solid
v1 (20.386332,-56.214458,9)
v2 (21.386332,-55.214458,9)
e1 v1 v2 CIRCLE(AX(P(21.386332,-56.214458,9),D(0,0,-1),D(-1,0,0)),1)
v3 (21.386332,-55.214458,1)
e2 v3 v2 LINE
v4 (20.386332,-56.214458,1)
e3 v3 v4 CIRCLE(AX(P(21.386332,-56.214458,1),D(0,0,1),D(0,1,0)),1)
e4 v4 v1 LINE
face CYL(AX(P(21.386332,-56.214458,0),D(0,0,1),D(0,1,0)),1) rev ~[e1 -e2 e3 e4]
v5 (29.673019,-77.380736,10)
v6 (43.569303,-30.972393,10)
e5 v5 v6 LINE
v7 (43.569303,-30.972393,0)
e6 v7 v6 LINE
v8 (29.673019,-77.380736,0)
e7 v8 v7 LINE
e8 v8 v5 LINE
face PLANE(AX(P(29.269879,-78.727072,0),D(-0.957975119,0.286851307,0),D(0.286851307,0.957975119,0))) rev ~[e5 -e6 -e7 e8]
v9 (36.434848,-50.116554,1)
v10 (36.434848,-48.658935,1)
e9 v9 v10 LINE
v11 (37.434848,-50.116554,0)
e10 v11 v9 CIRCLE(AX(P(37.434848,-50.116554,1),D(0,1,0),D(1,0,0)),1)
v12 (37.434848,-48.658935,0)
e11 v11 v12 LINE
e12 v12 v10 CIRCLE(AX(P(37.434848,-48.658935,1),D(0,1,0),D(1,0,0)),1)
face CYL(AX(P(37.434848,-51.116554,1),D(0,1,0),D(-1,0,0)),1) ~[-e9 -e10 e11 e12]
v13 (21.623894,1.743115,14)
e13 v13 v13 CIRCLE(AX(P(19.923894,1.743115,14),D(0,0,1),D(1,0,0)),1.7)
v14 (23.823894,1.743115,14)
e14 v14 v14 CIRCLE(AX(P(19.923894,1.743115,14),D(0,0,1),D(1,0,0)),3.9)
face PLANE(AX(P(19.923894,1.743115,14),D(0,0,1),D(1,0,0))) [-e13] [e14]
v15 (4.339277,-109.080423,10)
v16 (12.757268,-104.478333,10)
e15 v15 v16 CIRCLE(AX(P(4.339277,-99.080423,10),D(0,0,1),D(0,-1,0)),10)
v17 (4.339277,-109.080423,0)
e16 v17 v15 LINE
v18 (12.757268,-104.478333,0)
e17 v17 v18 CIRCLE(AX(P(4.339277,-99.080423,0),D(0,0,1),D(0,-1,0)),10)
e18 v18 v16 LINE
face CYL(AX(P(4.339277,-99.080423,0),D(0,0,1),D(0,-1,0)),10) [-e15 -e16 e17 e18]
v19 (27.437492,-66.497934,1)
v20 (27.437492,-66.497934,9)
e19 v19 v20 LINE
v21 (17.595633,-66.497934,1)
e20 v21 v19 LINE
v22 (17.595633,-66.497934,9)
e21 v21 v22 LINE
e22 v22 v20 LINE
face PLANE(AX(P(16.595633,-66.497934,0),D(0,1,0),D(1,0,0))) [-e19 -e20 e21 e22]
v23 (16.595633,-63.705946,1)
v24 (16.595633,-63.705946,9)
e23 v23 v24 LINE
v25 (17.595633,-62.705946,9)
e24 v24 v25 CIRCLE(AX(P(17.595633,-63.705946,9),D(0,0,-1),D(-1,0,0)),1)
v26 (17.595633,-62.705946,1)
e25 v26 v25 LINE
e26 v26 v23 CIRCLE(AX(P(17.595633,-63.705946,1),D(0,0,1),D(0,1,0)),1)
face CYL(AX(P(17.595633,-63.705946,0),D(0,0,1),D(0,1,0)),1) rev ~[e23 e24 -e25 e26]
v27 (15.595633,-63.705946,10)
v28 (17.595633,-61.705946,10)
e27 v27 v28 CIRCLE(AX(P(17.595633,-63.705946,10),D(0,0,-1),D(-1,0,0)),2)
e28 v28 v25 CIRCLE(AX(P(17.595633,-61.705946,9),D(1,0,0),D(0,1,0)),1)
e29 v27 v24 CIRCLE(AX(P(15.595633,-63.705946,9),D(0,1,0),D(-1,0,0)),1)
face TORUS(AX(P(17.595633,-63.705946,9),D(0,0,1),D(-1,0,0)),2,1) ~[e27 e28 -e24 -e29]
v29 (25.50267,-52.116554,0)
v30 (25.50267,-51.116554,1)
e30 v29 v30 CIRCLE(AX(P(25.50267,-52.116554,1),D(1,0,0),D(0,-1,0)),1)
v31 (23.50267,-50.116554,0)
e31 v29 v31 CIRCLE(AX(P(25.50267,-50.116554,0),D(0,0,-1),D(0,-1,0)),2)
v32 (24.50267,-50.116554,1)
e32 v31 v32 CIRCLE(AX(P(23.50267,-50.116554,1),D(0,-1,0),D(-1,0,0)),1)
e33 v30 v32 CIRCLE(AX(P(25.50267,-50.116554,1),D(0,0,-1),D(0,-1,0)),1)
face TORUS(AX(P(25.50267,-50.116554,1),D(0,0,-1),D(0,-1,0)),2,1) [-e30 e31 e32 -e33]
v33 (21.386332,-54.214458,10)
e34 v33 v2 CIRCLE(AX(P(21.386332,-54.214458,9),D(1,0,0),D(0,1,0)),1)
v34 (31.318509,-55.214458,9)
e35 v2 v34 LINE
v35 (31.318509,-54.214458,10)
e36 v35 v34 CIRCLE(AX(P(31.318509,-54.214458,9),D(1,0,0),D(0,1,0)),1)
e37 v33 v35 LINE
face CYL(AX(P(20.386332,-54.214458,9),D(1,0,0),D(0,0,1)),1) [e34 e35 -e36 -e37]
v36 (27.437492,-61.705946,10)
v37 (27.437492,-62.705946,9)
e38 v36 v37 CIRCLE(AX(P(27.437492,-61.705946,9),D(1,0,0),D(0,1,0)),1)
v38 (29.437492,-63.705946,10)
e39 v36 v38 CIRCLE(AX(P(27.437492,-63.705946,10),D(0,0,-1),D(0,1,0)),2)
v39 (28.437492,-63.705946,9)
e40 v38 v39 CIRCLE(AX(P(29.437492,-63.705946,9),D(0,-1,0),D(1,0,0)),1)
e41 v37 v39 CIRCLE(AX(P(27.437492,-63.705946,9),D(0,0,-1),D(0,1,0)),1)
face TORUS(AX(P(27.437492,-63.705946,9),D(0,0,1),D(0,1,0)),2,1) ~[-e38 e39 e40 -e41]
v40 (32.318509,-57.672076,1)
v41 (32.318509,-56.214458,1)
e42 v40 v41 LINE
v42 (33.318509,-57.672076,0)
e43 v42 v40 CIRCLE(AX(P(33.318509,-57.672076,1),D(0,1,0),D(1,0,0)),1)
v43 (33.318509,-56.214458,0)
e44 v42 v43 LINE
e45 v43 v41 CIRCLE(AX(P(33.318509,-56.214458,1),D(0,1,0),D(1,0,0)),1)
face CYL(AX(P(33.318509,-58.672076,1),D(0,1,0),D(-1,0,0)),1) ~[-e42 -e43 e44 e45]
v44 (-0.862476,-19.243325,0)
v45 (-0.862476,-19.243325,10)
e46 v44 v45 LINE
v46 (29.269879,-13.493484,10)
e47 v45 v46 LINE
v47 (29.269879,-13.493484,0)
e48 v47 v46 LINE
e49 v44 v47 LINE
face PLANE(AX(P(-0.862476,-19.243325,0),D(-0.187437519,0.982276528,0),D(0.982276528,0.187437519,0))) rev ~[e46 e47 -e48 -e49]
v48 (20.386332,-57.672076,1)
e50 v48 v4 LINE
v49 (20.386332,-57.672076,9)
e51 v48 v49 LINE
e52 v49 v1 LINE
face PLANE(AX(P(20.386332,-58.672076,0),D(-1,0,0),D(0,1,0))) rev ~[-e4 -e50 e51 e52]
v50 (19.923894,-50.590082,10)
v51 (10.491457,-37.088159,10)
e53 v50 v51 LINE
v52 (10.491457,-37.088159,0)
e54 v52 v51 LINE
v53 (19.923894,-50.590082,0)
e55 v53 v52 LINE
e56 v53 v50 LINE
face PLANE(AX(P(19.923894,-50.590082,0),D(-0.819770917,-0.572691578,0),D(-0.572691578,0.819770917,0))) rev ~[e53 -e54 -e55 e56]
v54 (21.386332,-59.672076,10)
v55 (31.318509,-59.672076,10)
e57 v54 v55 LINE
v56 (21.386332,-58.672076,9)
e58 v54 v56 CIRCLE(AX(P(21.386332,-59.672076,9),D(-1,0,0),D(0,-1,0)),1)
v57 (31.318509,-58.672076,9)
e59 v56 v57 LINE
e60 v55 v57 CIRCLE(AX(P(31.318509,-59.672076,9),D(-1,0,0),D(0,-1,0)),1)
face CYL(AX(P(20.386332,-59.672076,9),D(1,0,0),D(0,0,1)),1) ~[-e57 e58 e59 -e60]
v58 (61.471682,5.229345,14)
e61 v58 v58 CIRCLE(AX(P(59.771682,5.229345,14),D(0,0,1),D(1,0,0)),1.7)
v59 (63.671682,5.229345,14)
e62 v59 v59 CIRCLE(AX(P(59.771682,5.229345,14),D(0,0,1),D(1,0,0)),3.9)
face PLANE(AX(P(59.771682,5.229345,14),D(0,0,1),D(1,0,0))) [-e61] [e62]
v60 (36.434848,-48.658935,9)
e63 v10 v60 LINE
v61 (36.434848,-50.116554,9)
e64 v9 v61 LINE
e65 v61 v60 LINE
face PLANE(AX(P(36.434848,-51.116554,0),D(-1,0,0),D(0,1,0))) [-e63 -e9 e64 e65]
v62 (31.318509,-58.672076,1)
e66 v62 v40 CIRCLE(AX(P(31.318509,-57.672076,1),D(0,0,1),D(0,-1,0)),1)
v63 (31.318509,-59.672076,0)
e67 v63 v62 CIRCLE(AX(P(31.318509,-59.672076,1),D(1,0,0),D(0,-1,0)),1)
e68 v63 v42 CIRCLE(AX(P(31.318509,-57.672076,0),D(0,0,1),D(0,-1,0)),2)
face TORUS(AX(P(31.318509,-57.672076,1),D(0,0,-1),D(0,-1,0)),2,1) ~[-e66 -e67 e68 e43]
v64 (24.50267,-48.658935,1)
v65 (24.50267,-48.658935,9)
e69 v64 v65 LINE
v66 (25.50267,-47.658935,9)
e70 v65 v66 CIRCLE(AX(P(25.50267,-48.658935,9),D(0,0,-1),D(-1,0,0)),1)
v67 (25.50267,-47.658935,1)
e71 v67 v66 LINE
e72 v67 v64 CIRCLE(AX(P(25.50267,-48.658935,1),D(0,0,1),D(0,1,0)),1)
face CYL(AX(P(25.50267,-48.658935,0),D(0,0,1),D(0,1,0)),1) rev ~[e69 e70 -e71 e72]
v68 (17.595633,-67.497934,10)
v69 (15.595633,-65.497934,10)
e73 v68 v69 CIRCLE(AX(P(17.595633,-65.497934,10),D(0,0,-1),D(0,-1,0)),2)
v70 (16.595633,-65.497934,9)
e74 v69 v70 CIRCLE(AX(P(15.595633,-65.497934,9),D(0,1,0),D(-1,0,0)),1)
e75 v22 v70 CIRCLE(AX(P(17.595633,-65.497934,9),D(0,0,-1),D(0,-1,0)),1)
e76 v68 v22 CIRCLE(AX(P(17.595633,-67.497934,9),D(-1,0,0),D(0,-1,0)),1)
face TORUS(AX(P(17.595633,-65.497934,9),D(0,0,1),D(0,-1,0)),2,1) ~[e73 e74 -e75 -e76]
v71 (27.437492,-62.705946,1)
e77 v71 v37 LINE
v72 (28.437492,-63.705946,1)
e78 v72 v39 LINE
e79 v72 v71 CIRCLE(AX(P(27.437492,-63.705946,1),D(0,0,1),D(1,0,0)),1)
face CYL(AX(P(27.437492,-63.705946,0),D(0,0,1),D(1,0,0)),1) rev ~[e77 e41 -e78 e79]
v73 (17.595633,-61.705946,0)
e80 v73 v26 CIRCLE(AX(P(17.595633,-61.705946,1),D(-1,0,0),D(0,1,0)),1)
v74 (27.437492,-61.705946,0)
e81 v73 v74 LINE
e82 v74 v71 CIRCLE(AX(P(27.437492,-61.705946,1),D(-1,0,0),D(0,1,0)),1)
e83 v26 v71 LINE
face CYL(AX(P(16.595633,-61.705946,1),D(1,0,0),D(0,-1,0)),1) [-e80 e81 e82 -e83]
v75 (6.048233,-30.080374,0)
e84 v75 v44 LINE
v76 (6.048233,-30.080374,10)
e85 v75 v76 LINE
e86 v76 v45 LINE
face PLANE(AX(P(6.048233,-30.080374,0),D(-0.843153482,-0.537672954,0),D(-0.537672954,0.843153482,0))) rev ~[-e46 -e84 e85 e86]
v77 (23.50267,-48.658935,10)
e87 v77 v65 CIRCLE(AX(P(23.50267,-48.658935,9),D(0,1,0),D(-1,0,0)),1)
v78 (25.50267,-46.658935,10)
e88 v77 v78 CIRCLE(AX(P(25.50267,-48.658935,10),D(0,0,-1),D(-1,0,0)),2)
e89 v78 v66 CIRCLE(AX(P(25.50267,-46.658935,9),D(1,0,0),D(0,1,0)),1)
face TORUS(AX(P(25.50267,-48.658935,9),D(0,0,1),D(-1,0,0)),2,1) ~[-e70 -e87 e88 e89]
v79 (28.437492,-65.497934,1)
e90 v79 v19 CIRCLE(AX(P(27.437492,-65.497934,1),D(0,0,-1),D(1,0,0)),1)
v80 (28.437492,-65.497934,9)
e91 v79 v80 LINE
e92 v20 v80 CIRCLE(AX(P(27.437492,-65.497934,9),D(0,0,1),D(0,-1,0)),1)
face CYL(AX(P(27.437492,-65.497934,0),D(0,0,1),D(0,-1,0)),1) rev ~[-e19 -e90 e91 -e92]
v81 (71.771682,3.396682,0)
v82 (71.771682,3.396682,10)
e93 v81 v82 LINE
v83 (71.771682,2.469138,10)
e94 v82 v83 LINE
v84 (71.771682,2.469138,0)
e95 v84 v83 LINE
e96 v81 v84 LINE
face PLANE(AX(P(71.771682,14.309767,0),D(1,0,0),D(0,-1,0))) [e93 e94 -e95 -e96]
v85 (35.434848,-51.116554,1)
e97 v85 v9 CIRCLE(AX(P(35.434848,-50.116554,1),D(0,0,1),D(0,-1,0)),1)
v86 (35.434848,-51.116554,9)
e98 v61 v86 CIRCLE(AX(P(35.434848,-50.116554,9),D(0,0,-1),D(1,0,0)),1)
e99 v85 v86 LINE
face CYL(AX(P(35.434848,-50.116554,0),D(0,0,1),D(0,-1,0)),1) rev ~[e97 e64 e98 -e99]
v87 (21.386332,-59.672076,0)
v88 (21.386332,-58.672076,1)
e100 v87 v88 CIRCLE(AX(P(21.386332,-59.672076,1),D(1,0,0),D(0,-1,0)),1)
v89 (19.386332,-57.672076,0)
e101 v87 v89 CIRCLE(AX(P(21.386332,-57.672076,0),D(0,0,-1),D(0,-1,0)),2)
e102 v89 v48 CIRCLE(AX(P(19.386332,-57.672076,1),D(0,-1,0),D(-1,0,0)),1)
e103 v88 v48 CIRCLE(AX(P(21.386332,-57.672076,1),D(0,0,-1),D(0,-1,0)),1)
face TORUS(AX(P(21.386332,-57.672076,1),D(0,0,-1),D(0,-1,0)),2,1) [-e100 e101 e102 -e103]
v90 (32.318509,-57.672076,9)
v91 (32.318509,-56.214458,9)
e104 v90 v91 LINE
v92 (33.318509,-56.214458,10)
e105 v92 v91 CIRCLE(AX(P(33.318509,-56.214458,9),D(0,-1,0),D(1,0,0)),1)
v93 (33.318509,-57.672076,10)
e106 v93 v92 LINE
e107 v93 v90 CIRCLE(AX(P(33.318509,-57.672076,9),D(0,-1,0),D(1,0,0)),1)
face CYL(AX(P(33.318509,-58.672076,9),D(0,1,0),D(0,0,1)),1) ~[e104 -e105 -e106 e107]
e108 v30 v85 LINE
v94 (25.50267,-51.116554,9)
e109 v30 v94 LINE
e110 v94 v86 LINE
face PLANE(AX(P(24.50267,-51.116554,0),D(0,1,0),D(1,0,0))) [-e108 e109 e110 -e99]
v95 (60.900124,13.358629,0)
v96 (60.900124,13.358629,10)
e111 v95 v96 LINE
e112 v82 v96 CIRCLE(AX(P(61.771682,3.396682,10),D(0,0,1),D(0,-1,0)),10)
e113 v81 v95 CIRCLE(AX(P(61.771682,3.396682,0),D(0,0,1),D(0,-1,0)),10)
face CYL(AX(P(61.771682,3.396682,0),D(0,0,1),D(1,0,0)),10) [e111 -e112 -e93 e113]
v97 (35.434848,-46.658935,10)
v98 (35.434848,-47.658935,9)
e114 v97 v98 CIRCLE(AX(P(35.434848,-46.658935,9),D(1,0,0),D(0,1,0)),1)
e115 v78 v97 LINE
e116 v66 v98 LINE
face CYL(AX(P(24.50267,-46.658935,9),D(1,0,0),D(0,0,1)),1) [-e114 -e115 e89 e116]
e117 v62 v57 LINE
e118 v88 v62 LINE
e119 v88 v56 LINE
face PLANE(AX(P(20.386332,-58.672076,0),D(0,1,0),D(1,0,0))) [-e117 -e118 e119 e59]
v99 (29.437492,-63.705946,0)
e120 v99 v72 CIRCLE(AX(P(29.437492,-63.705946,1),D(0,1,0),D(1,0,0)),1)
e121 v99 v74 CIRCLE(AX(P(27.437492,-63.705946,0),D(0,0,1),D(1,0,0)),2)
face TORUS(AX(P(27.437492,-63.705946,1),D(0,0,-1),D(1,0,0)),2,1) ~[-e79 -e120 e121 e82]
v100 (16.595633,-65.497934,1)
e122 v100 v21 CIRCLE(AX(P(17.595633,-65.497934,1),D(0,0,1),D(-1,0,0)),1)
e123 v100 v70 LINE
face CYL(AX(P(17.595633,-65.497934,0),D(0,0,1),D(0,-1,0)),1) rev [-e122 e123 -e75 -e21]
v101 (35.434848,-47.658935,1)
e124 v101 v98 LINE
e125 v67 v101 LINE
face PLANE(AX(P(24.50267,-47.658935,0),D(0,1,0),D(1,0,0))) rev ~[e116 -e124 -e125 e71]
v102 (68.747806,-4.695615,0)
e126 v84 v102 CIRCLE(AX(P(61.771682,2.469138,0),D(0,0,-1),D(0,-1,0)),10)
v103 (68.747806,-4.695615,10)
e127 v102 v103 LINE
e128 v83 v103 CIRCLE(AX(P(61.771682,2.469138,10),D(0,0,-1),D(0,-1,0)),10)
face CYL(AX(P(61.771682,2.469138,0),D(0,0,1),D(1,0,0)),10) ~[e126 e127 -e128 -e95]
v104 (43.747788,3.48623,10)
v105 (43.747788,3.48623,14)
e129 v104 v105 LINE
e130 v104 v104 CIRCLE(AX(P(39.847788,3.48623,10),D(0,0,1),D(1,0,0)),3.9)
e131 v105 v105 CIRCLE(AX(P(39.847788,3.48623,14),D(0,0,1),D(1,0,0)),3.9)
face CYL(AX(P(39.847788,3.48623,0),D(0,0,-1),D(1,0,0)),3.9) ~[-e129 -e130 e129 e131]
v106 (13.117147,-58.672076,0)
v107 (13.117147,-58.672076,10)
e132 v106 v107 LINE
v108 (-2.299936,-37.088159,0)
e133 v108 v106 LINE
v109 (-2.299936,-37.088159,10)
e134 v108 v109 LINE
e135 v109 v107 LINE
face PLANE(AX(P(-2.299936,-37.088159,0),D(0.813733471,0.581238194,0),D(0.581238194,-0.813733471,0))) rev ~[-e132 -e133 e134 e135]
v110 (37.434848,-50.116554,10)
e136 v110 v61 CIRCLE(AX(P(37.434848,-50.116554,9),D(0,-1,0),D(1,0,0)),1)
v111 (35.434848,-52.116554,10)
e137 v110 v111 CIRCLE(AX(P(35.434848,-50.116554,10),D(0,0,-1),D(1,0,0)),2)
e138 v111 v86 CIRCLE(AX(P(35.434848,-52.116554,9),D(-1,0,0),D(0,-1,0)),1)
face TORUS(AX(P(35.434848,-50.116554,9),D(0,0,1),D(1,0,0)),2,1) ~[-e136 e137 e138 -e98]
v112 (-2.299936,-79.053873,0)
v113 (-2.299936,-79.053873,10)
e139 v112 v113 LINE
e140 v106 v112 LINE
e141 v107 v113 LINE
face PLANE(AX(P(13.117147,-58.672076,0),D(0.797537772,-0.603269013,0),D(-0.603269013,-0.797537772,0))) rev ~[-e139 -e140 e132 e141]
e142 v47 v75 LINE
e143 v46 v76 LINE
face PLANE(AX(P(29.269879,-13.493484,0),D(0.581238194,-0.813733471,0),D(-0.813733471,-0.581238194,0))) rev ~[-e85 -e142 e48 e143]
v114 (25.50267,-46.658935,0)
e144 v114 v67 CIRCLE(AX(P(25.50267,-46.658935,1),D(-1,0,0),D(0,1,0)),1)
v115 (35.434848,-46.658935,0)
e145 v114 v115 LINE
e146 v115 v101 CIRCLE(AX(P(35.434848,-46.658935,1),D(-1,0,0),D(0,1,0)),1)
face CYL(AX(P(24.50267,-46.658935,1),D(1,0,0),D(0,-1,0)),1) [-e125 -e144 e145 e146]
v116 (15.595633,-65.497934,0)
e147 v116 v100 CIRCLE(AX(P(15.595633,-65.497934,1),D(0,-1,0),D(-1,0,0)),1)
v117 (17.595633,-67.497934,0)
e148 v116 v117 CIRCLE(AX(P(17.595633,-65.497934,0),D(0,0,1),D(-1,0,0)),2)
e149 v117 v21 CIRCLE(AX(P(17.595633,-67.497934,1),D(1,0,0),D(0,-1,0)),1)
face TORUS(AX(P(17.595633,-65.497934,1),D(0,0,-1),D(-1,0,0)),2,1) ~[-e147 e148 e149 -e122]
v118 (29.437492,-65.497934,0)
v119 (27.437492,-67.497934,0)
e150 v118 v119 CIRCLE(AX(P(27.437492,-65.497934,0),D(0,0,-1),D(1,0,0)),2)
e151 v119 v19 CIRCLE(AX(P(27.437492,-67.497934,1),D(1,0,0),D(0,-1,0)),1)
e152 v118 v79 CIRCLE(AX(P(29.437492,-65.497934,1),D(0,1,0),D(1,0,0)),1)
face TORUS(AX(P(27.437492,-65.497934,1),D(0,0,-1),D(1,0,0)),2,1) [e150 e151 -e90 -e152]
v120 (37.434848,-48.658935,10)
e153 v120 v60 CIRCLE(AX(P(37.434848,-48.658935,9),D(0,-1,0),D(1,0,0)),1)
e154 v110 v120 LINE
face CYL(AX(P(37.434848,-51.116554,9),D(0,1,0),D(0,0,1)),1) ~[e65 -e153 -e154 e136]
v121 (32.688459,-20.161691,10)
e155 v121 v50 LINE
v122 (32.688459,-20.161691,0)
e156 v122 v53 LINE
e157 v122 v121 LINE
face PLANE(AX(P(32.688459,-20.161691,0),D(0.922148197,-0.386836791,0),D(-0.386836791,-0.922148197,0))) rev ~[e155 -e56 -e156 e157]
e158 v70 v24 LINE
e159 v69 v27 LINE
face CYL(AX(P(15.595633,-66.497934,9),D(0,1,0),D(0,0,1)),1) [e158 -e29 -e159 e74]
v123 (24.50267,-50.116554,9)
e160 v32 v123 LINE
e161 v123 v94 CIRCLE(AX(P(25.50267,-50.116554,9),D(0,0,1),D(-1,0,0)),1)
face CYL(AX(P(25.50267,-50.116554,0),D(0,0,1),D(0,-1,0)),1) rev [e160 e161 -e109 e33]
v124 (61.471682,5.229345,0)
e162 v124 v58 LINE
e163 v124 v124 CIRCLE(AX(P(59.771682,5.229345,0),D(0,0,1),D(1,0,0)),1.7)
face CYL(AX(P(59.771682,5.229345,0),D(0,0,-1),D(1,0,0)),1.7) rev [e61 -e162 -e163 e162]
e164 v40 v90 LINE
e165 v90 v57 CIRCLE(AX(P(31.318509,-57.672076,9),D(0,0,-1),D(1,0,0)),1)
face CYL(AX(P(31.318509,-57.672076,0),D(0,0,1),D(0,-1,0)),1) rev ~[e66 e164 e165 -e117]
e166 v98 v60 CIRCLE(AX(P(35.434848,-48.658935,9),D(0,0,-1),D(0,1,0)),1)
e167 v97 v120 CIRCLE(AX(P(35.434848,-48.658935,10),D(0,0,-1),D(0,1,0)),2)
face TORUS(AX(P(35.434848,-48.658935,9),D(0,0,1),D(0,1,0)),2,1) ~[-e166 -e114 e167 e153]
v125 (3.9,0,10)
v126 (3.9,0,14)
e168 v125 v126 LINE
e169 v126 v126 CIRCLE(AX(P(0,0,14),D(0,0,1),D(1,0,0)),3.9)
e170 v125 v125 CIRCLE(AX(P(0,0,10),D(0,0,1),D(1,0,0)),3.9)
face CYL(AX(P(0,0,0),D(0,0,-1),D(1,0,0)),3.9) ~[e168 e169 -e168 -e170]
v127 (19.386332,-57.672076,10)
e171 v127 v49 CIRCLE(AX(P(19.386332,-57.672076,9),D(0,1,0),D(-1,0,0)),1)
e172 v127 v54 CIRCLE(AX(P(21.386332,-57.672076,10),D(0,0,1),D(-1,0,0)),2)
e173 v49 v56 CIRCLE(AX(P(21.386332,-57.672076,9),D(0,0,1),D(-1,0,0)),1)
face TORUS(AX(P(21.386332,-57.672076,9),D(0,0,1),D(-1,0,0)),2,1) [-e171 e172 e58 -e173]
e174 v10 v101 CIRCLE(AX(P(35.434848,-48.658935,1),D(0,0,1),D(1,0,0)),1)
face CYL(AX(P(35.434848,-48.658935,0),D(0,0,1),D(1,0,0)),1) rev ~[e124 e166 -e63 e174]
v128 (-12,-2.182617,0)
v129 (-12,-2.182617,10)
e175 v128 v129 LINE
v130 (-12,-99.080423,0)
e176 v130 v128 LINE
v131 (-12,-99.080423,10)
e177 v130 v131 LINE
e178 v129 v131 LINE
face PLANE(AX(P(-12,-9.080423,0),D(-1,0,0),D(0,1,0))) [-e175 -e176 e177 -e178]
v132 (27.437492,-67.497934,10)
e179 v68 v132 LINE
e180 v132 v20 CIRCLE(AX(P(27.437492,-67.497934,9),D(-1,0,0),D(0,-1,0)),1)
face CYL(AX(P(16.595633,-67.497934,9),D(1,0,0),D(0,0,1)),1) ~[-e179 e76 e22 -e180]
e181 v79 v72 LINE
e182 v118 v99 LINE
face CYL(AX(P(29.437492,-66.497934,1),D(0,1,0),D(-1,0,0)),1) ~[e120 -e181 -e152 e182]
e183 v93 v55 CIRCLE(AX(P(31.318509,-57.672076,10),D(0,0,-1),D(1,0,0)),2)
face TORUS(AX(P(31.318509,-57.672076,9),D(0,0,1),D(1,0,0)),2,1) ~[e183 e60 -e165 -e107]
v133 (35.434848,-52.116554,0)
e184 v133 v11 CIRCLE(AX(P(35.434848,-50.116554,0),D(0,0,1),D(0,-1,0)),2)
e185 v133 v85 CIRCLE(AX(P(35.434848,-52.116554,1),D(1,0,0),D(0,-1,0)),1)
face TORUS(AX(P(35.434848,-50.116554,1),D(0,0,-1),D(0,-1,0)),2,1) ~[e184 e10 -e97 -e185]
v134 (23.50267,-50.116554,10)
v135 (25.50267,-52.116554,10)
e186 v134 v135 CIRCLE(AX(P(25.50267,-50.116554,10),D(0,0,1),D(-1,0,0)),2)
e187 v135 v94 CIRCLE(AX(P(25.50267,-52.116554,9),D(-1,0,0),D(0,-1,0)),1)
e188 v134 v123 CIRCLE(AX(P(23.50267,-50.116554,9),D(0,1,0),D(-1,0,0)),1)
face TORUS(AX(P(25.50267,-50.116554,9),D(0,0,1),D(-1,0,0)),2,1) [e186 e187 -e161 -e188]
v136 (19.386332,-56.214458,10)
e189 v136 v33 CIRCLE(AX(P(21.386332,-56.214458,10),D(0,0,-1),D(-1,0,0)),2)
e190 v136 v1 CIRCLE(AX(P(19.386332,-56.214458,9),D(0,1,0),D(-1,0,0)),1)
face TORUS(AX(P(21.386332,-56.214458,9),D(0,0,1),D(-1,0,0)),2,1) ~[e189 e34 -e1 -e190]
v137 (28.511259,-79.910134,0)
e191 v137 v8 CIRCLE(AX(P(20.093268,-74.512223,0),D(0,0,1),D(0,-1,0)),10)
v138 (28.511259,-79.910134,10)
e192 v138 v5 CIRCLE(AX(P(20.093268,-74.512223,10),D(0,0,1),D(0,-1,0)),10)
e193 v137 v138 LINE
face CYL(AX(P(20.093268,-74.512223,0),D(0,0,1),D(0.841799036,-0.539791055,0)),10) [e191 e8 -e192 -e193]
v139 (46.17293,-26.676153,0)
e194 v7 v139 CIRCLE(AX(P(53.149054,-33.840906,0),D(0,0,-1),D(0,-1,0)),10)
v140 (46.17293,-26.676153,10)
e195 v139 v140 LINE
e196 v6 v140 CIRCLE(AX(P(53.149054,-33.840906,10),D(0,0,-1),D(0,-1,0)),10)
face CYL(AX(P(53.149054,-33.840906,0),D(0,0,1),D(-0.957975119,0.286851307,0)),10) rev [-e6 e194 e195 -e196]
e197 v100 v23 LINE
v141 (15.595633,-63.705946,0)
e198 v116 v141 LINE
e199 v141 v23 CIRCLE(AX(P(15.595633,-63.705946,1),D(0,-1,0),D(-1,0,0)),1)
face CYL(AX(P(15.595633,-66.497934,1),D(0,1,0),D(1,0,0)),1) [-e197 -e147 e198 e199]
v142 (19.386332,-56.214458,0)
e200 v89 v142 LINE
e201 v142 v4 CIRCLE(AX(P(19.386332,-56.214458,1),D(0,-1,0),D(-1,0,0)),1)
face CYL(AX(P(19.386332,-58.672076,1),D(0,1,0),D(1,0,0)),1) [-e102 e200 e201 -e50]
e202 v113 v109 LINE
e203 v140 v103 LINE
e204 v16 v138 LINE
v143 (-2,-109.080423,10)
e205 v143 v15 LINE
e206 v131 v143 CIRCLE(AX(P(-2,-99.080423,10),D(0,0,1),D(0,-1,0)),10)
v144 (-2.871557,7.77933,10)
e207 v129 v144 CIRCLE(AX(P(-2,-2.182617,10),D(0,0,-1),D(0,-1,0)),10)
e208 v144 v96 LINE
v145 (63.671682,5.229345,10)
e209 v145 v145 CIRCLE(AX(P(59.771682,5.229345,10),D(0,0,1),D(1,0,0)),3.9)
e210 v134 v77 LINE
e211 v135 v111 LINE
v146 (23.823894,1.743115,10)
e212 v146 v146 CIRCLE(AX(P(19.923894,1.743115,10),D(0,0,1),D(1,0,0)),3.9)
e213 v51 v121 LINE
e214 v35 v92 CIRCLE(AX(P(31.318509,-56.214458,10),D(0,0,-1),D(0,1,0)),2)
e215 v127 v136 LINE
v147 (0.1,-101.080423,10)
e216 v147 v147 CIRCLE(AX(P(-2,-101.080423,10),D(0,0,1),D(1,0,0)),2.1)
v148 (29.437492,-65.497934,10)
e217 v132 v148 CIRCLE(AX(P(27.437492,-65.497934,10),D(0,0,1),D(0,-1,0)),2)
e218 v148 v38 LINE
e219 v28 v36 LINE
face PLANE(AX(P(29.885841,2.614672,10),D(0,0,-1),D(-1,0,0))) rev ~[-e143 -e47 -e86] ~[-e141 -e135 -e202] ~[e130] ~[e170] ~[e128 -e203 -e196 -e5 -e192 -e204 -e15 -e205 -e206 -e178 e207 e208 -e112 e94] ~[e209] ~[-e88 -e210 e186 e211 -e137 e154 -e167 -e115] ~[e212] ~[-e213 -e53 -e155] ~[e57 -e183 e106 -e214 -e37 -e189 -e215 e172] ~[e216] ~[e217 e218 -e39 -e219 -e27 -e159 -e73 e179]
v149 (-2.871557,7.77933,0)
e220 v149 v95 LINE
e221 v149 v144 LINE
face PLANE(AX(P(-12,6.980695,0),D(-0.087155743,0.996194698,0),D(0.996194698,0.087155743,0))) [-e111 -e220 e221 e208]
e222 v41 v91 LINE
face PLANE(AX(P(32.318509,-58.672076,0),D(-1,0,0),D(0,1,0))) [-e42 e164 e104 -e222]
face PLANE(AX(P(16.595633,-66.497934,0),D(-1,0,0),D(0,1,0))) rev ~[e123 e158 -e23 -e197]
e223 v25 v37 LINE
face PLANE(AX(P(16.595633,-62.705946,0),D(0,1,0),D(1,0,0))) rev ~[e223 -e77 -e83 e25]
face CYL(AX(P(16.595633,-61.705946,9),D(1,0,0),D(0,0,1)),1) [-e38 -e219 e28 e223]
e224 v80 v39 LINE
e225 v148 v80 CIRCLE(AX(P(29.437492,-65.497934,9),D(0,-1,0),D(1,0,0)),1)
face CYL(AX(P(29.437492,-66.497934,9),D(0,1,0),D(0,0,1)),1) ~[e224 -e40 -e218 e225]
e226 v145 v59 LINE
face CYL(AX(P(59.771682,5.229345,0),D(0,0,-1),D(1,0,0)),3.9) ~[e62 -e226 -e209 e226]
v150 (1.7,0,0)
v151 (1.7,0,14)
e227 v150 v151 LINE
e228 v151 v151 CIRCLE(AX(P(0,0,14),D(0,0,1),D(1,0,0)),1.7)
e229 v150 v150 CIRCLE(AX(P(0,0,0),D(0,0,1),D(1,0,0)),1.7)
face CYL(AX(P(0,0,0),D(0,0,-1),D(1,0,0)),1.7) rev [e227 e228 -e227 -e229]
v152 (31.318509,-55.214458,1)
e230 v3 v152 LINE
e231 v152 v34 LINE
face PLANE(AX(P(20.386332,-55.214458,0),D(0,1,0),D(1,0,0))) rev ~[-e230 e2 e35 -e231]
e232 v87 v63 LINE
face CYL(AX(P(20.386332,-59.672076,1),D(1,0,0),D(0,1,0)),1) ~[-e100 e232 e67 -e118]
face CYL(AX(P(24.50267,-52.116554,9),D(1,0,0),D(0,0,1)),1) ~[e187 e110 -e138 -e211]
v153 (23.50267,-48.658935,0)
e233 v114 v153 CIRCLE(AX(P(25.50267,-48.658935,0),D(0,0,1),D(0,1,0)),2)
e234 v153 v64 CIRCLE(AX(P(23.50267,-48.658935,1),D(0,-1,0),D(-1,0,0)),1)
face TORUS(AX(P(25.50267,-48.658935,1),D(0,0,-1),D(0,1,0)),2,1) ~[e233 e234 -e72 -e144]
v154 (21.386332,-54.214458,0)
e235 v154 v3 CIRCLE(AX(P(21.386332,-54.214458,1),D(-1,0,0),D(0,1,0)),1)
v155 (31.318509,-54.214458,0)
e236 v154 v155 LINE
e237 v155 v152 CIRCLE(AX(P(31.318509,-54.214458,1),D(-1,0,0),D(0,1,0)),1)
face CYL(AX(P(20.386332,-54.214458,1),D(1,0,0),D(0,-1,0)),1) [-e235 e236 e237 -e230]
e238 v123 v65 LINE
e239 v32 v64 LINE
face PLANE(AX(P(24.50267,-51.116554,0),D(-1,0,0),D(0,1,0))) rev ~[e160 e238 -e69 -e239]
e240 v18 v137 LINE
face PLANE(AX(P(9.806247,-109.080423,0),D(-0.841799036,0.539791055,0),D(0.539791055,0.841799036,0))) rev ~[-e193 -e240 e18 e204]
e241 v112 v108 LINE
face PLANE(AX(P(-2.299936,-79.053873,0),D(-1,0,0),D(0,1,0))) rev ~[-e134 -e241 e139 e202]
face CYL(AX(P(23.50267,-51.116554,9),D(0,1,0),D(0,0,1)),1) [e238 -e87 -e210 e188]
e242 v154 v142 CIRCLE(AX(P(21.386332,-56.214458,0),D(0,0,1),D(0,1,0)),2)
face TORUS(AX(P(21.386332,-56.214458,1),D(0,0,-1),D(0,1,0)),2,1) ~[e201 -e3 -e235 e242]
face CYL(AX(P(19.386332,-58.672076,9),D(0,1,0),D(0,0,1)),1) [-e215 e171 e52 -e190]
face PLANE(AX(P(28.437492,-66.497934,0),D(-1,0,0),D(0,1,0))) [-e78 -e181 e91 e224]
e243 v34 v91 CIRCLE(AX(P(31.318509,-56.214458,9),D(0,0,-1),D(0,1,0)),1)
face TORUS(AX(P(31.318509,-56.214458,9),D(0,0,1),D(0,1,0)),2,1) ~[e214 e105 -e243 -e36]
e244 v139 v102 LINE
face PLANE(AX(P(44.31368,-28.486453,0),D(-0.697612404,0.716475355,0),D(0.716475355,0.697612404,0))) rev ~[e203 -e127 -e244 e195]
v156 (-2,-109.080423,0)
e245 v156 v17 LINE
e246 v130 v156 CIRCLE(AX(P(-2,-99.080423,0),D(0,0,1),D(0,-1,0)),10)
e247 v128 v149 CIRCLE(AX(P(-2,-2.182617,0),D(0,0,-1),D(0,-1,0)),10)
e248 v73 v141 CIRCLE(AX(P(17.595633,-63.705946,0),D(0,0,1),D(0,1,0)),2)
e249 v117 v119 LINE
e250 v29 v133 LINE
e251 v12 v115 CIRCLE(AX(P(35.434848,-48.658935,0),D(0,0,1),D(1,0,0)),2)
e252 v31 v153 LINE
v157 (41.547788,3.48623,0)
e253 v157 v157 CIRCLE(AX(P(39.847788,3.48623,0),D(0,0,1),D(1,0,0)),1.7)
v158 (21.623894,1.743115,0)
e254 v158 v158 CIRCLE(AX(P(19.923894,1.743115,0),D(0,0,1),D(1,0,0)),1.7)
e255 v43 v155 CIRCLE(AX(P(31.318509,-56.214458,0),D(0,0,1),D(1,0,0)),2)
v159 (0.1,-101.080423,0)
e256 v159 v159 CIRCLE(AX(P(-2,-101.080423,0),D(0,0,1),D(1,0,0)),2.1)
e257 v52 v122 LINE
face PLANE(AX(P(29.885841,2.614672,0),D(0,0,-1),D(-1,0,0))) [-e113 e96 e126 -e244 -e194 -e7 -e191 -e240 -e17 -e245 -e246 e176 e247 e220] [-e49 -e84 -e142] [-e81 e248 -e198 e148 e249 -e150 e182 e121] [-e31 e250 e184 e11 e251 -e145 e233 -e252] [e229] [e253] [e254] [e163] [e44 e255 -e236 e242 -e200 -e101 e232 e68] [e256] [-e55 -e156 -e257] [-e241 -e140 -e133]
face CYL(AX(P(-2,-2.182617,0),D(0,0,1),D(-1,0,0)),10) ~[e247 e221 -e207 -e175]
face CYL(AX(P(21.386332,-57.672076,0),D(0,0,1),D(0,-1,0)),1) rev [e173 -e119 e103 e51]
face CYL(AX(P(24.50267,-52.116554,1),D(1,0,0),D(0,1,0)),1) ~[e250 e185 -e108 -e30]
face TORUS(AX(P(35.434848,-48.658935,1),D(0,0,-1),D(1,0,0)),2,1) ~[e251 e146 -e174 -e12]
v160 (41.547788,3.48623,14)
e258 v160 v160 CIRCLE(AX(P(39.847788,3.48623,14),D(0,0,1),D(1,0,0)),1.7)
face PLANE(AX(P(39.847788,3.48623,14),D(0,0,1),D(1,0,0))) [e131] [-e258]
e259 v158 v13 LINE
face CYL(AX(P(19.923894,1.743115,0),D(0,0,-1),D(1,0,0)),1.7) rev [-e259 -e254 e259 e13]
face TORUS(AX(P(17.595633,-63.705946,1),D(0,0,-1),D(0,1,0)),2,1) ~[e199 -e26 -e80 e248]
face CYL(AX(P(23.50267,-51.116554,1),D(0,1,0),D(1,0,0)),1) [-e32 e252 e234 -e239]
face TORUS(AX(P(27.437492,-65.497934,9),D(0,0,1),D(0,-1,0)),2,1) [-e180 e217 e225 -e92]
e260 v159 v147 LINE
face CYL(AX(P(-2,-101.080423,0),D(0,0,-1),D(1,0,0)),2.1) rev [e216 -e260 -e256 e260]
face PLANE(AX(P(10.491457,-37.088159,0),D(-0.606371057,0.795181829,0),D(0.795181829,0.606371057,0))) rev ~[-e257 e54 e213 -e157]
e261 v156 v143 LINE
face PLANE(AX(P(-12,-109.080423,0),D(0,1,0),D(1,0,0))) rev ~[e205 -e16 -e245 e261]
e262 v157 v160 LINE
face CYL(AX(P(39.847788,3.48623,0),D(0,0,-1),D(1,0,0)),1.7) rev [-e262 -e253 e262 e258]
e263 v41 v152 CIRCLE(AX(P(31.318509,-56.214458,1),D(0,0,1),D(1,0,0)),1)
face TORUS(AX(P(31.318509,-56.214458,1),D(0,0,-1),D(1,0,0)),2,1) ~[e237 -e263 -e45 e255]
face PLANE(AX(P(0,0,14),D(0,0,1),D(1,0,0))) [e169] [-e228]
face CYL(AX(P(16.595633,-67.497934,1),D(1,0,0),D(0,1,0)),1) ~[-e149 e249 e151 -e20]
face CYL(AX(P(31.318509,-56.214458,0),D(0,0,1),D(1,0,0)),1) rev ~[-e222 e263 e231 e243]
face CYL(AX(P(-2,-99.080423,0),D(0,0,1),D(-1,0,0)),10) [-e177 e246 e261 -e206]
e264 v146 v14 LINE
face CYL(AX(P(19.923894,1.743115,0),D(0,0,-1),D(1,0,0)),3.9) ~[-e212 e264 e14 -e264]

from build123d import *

# Parameters (mm, degrees)
SKETCH_1_R      = 2.1
SKETCH_1_W      = 11.841859062
SKETCH_1_H      = 3.79198791
SKETCH_1_W_2    = 11.932177887
SKETCH_1_H_2    = 3.457618633
SKETCH_1_W_3    = 11.932177888
SKETCH_1_R_2    = 3.9
EXTRUDE_1_DEPTH = 10
FILLET_1_R      = 10
SKETCH_2_R      = 3.9
SKETCH_2_R_2    = 1.7
EXTRUDE_2_DEPTH = 14
FILLET_2_R      = 1


with BuildPart() as part:
    # 草圖1 → 填料-伸長1 (new body)
    # profile 1 of 2: a face of its own
    with BuildSketch(Plane.XY):
        Polygon((71.771681886, -1.751350173), (-12, -9.080422663), (-12, -109.080422663), (9.806246547, -109.080422663), (29.269879348, -78.727071705), (44.31368037, -28.486453197), align=None)
        with Locations((-2, -101.080422663)):
            Circle(SKETCH_1_R, mode=Mode.SUBTRACT)
        Polygon((-2.299936438, -79.053873156), (-2.299936438, -37.088159429), (13.117147072, -58.672076343), align=None, mode=Mode.SUBTRACT)
        with Locations((22.516562227, -64.601939977)):
            Rectangle(SKETCH_1_W, SKETCH_1_H, mode=Mode.SUBTRACT)
        with Locations((26.352420456, -56.943267027)):
            Rectangle(SKETCH_1_W_2, SKETCH_1_H_2, mode=Mode.SUBTRACT)
        with Locations((30.468759199, -49.38774458)):
            Rectangle(SKETCH_1_W_3, SKETCH_1_H_2, mode=Mode.SUBTRACT)
        Polygon((19.923893962, -50.59008221), (10.491457035, -37.088159429), (32.688459439, -20.161691414), align=None, mode=Mode.SUBTRACT)
        Polygon((6.048232781, -30.080374262), (-0.862476164, -19.243324952), (29.269879348, -13.493483856), align=None, mode=Mode.SUBTRACT)
    # profile 2 of 2: a face of its own
    with BuildSketch(Plane.XY):
        Polygon((71.771681886, 14.309767228), (71.771681886, -1.751350173), (-12, -9.080422663), (-12, 6.980694738), align=None)
        with Locations((59.771681886, 5.229344565)):
            Circle(SKETCH_1_R_2, mode=Mode.SUBTRACT)
        with Locations((39.847787924, 3.48622971)):
            Circle(SKETCH_1_R_2, mode=Mode.SUBTRACT)
        with Locations((19.923893962, 1.743114855)):
            Circle(SKETCH_1_R_2, mode=Mode.SUBTRACT)
        Circle(SKETCH_1_R_2, mode=Mode.SUBTRACT)
    extrude(amount=EXTRUDE_1_DEPTH)

    # 圓角1
    fillet_1_edges = [part.edges().sort_by_distance(p)[0] for p in [
        (29.269879348, -78.727071705, 5),
        (9.806246547, -109.080422663, 5),
        (-12, -109.080422663, 5),
        (-12, 6.980694738, 5),
        (71.771681886, 14.309767228, 5),
        (71.771681886, -1.751350173, 5),
        (44.31368037, -28.486453197, 5),
    ]]
    fillet(fillet_1_edges, radius=FILLET_1_R)

    # 草圖2 → 填料-伸長2 (add)
    # profile 1 of 4: a face of its own
    with BuildSketch(Plane.XY):
        Circle(SKETCH_2_R)
        Circle(SKETCH_2_R_2, mode=Mode.SUBTRACT)
    # profile 2 of 4: a face of its own
    with BuildSketch(Plane.XY):
        with Locations((19.923893962, 1.743114855)):
            Circle(SKETCH_2_R)
        with Locations((19.923893962, 1.743114855)):
            Circle(SKETCH_2_R_2, mode=Mode.SUBTRACT)
    # profile 3 of 4: a face of its own
    with BuildSketch(Plane.XY):
        with Locations((39.847787924, 3.48622971)):
            Circle(SKETCH_2_R)
        with Locations((39.847787924, 3.48622971)):
            Circle(SKETCH_2_R_2, mode=Mode.SUBTRACT)
    # profile 4 of 4: a face of its own
    with BuildSketch(Plane.XY):
        with Locations((59.771681886, 5.229344565)):
            Circle(SKETCH_2_R)
        with Locations((59.771681886, 5.229344565)):
            Circle(SKETCH_2_R_2, mode=Mode.SUBTRACT)
    extrude(amount=EXTRUDE_2_DEPTH)

    # 圓角2
    fillet_2_edges = [part.edges().sort_by_distance(p)[0] for p in [
        (22.516562227, -66.497933932, 10),
        (16.595632696, -64.601939977, 10),
        (22.516562227, -62.705946022, 10),
        (28.437491758, -64.601939977, 10),
        (24.502670255, -49.387744579, 10),
        (30.468759199, -47.658935263, 10),
        (36.434848143, -49.387744579, 10),
        (30.468759199, -51.116553896, 10),
        (20.386331512, -56.943267027, 10),
        (28.437491758, -64.601939977, 0),
        (22.516562227, -62.705946022, 0),
        (16.595632696, -64.601939977, 0),
        (22.516562227, -66.497933932, 0),
        (26.352420456, -55.21445771, 10),
        (32.318509399, -56.943267027, 10),
        (26.352420456, -58.672076343, 0),
        (32.318509399, -56.943267027, 0),
        (26.352420456, -55.21445771, 0),
        (20.386331512, -56.943267027, 0),
        (30.468759199, -51.116553896, 0),
        (36.434848143, -49.387744579, 0),
        (30.468759199, -47.658935263, 0),
        (24.502670255, -49.387744579, 0),
        (26.352420456, -58.672076343, 10),
        (28.437491758, -66.497933932, 5),
        (28.437491758, -62.705946022, 5),
        (16.595632696, -62.705946022, 5),
        (16.595632696, -66.497933932, 5),
        (20.386331512, -58.672076343, 5),
        (32.318509399, -58.672076343, 5),
        (32.318509399, -55.21445771, 5),
        (20.386331512, -55.21445771, 5),
        (24.502670255, -51.116553896, 5),
        (36.434848143, -51.116553896, 5),
        (36.434848143, -47.658935263, 5),
        (24.502670255, -47.658935263, 5),
    ]]
    fillet(fillet_2_edges, radius=FILLET_2_R)


solid = part.part
